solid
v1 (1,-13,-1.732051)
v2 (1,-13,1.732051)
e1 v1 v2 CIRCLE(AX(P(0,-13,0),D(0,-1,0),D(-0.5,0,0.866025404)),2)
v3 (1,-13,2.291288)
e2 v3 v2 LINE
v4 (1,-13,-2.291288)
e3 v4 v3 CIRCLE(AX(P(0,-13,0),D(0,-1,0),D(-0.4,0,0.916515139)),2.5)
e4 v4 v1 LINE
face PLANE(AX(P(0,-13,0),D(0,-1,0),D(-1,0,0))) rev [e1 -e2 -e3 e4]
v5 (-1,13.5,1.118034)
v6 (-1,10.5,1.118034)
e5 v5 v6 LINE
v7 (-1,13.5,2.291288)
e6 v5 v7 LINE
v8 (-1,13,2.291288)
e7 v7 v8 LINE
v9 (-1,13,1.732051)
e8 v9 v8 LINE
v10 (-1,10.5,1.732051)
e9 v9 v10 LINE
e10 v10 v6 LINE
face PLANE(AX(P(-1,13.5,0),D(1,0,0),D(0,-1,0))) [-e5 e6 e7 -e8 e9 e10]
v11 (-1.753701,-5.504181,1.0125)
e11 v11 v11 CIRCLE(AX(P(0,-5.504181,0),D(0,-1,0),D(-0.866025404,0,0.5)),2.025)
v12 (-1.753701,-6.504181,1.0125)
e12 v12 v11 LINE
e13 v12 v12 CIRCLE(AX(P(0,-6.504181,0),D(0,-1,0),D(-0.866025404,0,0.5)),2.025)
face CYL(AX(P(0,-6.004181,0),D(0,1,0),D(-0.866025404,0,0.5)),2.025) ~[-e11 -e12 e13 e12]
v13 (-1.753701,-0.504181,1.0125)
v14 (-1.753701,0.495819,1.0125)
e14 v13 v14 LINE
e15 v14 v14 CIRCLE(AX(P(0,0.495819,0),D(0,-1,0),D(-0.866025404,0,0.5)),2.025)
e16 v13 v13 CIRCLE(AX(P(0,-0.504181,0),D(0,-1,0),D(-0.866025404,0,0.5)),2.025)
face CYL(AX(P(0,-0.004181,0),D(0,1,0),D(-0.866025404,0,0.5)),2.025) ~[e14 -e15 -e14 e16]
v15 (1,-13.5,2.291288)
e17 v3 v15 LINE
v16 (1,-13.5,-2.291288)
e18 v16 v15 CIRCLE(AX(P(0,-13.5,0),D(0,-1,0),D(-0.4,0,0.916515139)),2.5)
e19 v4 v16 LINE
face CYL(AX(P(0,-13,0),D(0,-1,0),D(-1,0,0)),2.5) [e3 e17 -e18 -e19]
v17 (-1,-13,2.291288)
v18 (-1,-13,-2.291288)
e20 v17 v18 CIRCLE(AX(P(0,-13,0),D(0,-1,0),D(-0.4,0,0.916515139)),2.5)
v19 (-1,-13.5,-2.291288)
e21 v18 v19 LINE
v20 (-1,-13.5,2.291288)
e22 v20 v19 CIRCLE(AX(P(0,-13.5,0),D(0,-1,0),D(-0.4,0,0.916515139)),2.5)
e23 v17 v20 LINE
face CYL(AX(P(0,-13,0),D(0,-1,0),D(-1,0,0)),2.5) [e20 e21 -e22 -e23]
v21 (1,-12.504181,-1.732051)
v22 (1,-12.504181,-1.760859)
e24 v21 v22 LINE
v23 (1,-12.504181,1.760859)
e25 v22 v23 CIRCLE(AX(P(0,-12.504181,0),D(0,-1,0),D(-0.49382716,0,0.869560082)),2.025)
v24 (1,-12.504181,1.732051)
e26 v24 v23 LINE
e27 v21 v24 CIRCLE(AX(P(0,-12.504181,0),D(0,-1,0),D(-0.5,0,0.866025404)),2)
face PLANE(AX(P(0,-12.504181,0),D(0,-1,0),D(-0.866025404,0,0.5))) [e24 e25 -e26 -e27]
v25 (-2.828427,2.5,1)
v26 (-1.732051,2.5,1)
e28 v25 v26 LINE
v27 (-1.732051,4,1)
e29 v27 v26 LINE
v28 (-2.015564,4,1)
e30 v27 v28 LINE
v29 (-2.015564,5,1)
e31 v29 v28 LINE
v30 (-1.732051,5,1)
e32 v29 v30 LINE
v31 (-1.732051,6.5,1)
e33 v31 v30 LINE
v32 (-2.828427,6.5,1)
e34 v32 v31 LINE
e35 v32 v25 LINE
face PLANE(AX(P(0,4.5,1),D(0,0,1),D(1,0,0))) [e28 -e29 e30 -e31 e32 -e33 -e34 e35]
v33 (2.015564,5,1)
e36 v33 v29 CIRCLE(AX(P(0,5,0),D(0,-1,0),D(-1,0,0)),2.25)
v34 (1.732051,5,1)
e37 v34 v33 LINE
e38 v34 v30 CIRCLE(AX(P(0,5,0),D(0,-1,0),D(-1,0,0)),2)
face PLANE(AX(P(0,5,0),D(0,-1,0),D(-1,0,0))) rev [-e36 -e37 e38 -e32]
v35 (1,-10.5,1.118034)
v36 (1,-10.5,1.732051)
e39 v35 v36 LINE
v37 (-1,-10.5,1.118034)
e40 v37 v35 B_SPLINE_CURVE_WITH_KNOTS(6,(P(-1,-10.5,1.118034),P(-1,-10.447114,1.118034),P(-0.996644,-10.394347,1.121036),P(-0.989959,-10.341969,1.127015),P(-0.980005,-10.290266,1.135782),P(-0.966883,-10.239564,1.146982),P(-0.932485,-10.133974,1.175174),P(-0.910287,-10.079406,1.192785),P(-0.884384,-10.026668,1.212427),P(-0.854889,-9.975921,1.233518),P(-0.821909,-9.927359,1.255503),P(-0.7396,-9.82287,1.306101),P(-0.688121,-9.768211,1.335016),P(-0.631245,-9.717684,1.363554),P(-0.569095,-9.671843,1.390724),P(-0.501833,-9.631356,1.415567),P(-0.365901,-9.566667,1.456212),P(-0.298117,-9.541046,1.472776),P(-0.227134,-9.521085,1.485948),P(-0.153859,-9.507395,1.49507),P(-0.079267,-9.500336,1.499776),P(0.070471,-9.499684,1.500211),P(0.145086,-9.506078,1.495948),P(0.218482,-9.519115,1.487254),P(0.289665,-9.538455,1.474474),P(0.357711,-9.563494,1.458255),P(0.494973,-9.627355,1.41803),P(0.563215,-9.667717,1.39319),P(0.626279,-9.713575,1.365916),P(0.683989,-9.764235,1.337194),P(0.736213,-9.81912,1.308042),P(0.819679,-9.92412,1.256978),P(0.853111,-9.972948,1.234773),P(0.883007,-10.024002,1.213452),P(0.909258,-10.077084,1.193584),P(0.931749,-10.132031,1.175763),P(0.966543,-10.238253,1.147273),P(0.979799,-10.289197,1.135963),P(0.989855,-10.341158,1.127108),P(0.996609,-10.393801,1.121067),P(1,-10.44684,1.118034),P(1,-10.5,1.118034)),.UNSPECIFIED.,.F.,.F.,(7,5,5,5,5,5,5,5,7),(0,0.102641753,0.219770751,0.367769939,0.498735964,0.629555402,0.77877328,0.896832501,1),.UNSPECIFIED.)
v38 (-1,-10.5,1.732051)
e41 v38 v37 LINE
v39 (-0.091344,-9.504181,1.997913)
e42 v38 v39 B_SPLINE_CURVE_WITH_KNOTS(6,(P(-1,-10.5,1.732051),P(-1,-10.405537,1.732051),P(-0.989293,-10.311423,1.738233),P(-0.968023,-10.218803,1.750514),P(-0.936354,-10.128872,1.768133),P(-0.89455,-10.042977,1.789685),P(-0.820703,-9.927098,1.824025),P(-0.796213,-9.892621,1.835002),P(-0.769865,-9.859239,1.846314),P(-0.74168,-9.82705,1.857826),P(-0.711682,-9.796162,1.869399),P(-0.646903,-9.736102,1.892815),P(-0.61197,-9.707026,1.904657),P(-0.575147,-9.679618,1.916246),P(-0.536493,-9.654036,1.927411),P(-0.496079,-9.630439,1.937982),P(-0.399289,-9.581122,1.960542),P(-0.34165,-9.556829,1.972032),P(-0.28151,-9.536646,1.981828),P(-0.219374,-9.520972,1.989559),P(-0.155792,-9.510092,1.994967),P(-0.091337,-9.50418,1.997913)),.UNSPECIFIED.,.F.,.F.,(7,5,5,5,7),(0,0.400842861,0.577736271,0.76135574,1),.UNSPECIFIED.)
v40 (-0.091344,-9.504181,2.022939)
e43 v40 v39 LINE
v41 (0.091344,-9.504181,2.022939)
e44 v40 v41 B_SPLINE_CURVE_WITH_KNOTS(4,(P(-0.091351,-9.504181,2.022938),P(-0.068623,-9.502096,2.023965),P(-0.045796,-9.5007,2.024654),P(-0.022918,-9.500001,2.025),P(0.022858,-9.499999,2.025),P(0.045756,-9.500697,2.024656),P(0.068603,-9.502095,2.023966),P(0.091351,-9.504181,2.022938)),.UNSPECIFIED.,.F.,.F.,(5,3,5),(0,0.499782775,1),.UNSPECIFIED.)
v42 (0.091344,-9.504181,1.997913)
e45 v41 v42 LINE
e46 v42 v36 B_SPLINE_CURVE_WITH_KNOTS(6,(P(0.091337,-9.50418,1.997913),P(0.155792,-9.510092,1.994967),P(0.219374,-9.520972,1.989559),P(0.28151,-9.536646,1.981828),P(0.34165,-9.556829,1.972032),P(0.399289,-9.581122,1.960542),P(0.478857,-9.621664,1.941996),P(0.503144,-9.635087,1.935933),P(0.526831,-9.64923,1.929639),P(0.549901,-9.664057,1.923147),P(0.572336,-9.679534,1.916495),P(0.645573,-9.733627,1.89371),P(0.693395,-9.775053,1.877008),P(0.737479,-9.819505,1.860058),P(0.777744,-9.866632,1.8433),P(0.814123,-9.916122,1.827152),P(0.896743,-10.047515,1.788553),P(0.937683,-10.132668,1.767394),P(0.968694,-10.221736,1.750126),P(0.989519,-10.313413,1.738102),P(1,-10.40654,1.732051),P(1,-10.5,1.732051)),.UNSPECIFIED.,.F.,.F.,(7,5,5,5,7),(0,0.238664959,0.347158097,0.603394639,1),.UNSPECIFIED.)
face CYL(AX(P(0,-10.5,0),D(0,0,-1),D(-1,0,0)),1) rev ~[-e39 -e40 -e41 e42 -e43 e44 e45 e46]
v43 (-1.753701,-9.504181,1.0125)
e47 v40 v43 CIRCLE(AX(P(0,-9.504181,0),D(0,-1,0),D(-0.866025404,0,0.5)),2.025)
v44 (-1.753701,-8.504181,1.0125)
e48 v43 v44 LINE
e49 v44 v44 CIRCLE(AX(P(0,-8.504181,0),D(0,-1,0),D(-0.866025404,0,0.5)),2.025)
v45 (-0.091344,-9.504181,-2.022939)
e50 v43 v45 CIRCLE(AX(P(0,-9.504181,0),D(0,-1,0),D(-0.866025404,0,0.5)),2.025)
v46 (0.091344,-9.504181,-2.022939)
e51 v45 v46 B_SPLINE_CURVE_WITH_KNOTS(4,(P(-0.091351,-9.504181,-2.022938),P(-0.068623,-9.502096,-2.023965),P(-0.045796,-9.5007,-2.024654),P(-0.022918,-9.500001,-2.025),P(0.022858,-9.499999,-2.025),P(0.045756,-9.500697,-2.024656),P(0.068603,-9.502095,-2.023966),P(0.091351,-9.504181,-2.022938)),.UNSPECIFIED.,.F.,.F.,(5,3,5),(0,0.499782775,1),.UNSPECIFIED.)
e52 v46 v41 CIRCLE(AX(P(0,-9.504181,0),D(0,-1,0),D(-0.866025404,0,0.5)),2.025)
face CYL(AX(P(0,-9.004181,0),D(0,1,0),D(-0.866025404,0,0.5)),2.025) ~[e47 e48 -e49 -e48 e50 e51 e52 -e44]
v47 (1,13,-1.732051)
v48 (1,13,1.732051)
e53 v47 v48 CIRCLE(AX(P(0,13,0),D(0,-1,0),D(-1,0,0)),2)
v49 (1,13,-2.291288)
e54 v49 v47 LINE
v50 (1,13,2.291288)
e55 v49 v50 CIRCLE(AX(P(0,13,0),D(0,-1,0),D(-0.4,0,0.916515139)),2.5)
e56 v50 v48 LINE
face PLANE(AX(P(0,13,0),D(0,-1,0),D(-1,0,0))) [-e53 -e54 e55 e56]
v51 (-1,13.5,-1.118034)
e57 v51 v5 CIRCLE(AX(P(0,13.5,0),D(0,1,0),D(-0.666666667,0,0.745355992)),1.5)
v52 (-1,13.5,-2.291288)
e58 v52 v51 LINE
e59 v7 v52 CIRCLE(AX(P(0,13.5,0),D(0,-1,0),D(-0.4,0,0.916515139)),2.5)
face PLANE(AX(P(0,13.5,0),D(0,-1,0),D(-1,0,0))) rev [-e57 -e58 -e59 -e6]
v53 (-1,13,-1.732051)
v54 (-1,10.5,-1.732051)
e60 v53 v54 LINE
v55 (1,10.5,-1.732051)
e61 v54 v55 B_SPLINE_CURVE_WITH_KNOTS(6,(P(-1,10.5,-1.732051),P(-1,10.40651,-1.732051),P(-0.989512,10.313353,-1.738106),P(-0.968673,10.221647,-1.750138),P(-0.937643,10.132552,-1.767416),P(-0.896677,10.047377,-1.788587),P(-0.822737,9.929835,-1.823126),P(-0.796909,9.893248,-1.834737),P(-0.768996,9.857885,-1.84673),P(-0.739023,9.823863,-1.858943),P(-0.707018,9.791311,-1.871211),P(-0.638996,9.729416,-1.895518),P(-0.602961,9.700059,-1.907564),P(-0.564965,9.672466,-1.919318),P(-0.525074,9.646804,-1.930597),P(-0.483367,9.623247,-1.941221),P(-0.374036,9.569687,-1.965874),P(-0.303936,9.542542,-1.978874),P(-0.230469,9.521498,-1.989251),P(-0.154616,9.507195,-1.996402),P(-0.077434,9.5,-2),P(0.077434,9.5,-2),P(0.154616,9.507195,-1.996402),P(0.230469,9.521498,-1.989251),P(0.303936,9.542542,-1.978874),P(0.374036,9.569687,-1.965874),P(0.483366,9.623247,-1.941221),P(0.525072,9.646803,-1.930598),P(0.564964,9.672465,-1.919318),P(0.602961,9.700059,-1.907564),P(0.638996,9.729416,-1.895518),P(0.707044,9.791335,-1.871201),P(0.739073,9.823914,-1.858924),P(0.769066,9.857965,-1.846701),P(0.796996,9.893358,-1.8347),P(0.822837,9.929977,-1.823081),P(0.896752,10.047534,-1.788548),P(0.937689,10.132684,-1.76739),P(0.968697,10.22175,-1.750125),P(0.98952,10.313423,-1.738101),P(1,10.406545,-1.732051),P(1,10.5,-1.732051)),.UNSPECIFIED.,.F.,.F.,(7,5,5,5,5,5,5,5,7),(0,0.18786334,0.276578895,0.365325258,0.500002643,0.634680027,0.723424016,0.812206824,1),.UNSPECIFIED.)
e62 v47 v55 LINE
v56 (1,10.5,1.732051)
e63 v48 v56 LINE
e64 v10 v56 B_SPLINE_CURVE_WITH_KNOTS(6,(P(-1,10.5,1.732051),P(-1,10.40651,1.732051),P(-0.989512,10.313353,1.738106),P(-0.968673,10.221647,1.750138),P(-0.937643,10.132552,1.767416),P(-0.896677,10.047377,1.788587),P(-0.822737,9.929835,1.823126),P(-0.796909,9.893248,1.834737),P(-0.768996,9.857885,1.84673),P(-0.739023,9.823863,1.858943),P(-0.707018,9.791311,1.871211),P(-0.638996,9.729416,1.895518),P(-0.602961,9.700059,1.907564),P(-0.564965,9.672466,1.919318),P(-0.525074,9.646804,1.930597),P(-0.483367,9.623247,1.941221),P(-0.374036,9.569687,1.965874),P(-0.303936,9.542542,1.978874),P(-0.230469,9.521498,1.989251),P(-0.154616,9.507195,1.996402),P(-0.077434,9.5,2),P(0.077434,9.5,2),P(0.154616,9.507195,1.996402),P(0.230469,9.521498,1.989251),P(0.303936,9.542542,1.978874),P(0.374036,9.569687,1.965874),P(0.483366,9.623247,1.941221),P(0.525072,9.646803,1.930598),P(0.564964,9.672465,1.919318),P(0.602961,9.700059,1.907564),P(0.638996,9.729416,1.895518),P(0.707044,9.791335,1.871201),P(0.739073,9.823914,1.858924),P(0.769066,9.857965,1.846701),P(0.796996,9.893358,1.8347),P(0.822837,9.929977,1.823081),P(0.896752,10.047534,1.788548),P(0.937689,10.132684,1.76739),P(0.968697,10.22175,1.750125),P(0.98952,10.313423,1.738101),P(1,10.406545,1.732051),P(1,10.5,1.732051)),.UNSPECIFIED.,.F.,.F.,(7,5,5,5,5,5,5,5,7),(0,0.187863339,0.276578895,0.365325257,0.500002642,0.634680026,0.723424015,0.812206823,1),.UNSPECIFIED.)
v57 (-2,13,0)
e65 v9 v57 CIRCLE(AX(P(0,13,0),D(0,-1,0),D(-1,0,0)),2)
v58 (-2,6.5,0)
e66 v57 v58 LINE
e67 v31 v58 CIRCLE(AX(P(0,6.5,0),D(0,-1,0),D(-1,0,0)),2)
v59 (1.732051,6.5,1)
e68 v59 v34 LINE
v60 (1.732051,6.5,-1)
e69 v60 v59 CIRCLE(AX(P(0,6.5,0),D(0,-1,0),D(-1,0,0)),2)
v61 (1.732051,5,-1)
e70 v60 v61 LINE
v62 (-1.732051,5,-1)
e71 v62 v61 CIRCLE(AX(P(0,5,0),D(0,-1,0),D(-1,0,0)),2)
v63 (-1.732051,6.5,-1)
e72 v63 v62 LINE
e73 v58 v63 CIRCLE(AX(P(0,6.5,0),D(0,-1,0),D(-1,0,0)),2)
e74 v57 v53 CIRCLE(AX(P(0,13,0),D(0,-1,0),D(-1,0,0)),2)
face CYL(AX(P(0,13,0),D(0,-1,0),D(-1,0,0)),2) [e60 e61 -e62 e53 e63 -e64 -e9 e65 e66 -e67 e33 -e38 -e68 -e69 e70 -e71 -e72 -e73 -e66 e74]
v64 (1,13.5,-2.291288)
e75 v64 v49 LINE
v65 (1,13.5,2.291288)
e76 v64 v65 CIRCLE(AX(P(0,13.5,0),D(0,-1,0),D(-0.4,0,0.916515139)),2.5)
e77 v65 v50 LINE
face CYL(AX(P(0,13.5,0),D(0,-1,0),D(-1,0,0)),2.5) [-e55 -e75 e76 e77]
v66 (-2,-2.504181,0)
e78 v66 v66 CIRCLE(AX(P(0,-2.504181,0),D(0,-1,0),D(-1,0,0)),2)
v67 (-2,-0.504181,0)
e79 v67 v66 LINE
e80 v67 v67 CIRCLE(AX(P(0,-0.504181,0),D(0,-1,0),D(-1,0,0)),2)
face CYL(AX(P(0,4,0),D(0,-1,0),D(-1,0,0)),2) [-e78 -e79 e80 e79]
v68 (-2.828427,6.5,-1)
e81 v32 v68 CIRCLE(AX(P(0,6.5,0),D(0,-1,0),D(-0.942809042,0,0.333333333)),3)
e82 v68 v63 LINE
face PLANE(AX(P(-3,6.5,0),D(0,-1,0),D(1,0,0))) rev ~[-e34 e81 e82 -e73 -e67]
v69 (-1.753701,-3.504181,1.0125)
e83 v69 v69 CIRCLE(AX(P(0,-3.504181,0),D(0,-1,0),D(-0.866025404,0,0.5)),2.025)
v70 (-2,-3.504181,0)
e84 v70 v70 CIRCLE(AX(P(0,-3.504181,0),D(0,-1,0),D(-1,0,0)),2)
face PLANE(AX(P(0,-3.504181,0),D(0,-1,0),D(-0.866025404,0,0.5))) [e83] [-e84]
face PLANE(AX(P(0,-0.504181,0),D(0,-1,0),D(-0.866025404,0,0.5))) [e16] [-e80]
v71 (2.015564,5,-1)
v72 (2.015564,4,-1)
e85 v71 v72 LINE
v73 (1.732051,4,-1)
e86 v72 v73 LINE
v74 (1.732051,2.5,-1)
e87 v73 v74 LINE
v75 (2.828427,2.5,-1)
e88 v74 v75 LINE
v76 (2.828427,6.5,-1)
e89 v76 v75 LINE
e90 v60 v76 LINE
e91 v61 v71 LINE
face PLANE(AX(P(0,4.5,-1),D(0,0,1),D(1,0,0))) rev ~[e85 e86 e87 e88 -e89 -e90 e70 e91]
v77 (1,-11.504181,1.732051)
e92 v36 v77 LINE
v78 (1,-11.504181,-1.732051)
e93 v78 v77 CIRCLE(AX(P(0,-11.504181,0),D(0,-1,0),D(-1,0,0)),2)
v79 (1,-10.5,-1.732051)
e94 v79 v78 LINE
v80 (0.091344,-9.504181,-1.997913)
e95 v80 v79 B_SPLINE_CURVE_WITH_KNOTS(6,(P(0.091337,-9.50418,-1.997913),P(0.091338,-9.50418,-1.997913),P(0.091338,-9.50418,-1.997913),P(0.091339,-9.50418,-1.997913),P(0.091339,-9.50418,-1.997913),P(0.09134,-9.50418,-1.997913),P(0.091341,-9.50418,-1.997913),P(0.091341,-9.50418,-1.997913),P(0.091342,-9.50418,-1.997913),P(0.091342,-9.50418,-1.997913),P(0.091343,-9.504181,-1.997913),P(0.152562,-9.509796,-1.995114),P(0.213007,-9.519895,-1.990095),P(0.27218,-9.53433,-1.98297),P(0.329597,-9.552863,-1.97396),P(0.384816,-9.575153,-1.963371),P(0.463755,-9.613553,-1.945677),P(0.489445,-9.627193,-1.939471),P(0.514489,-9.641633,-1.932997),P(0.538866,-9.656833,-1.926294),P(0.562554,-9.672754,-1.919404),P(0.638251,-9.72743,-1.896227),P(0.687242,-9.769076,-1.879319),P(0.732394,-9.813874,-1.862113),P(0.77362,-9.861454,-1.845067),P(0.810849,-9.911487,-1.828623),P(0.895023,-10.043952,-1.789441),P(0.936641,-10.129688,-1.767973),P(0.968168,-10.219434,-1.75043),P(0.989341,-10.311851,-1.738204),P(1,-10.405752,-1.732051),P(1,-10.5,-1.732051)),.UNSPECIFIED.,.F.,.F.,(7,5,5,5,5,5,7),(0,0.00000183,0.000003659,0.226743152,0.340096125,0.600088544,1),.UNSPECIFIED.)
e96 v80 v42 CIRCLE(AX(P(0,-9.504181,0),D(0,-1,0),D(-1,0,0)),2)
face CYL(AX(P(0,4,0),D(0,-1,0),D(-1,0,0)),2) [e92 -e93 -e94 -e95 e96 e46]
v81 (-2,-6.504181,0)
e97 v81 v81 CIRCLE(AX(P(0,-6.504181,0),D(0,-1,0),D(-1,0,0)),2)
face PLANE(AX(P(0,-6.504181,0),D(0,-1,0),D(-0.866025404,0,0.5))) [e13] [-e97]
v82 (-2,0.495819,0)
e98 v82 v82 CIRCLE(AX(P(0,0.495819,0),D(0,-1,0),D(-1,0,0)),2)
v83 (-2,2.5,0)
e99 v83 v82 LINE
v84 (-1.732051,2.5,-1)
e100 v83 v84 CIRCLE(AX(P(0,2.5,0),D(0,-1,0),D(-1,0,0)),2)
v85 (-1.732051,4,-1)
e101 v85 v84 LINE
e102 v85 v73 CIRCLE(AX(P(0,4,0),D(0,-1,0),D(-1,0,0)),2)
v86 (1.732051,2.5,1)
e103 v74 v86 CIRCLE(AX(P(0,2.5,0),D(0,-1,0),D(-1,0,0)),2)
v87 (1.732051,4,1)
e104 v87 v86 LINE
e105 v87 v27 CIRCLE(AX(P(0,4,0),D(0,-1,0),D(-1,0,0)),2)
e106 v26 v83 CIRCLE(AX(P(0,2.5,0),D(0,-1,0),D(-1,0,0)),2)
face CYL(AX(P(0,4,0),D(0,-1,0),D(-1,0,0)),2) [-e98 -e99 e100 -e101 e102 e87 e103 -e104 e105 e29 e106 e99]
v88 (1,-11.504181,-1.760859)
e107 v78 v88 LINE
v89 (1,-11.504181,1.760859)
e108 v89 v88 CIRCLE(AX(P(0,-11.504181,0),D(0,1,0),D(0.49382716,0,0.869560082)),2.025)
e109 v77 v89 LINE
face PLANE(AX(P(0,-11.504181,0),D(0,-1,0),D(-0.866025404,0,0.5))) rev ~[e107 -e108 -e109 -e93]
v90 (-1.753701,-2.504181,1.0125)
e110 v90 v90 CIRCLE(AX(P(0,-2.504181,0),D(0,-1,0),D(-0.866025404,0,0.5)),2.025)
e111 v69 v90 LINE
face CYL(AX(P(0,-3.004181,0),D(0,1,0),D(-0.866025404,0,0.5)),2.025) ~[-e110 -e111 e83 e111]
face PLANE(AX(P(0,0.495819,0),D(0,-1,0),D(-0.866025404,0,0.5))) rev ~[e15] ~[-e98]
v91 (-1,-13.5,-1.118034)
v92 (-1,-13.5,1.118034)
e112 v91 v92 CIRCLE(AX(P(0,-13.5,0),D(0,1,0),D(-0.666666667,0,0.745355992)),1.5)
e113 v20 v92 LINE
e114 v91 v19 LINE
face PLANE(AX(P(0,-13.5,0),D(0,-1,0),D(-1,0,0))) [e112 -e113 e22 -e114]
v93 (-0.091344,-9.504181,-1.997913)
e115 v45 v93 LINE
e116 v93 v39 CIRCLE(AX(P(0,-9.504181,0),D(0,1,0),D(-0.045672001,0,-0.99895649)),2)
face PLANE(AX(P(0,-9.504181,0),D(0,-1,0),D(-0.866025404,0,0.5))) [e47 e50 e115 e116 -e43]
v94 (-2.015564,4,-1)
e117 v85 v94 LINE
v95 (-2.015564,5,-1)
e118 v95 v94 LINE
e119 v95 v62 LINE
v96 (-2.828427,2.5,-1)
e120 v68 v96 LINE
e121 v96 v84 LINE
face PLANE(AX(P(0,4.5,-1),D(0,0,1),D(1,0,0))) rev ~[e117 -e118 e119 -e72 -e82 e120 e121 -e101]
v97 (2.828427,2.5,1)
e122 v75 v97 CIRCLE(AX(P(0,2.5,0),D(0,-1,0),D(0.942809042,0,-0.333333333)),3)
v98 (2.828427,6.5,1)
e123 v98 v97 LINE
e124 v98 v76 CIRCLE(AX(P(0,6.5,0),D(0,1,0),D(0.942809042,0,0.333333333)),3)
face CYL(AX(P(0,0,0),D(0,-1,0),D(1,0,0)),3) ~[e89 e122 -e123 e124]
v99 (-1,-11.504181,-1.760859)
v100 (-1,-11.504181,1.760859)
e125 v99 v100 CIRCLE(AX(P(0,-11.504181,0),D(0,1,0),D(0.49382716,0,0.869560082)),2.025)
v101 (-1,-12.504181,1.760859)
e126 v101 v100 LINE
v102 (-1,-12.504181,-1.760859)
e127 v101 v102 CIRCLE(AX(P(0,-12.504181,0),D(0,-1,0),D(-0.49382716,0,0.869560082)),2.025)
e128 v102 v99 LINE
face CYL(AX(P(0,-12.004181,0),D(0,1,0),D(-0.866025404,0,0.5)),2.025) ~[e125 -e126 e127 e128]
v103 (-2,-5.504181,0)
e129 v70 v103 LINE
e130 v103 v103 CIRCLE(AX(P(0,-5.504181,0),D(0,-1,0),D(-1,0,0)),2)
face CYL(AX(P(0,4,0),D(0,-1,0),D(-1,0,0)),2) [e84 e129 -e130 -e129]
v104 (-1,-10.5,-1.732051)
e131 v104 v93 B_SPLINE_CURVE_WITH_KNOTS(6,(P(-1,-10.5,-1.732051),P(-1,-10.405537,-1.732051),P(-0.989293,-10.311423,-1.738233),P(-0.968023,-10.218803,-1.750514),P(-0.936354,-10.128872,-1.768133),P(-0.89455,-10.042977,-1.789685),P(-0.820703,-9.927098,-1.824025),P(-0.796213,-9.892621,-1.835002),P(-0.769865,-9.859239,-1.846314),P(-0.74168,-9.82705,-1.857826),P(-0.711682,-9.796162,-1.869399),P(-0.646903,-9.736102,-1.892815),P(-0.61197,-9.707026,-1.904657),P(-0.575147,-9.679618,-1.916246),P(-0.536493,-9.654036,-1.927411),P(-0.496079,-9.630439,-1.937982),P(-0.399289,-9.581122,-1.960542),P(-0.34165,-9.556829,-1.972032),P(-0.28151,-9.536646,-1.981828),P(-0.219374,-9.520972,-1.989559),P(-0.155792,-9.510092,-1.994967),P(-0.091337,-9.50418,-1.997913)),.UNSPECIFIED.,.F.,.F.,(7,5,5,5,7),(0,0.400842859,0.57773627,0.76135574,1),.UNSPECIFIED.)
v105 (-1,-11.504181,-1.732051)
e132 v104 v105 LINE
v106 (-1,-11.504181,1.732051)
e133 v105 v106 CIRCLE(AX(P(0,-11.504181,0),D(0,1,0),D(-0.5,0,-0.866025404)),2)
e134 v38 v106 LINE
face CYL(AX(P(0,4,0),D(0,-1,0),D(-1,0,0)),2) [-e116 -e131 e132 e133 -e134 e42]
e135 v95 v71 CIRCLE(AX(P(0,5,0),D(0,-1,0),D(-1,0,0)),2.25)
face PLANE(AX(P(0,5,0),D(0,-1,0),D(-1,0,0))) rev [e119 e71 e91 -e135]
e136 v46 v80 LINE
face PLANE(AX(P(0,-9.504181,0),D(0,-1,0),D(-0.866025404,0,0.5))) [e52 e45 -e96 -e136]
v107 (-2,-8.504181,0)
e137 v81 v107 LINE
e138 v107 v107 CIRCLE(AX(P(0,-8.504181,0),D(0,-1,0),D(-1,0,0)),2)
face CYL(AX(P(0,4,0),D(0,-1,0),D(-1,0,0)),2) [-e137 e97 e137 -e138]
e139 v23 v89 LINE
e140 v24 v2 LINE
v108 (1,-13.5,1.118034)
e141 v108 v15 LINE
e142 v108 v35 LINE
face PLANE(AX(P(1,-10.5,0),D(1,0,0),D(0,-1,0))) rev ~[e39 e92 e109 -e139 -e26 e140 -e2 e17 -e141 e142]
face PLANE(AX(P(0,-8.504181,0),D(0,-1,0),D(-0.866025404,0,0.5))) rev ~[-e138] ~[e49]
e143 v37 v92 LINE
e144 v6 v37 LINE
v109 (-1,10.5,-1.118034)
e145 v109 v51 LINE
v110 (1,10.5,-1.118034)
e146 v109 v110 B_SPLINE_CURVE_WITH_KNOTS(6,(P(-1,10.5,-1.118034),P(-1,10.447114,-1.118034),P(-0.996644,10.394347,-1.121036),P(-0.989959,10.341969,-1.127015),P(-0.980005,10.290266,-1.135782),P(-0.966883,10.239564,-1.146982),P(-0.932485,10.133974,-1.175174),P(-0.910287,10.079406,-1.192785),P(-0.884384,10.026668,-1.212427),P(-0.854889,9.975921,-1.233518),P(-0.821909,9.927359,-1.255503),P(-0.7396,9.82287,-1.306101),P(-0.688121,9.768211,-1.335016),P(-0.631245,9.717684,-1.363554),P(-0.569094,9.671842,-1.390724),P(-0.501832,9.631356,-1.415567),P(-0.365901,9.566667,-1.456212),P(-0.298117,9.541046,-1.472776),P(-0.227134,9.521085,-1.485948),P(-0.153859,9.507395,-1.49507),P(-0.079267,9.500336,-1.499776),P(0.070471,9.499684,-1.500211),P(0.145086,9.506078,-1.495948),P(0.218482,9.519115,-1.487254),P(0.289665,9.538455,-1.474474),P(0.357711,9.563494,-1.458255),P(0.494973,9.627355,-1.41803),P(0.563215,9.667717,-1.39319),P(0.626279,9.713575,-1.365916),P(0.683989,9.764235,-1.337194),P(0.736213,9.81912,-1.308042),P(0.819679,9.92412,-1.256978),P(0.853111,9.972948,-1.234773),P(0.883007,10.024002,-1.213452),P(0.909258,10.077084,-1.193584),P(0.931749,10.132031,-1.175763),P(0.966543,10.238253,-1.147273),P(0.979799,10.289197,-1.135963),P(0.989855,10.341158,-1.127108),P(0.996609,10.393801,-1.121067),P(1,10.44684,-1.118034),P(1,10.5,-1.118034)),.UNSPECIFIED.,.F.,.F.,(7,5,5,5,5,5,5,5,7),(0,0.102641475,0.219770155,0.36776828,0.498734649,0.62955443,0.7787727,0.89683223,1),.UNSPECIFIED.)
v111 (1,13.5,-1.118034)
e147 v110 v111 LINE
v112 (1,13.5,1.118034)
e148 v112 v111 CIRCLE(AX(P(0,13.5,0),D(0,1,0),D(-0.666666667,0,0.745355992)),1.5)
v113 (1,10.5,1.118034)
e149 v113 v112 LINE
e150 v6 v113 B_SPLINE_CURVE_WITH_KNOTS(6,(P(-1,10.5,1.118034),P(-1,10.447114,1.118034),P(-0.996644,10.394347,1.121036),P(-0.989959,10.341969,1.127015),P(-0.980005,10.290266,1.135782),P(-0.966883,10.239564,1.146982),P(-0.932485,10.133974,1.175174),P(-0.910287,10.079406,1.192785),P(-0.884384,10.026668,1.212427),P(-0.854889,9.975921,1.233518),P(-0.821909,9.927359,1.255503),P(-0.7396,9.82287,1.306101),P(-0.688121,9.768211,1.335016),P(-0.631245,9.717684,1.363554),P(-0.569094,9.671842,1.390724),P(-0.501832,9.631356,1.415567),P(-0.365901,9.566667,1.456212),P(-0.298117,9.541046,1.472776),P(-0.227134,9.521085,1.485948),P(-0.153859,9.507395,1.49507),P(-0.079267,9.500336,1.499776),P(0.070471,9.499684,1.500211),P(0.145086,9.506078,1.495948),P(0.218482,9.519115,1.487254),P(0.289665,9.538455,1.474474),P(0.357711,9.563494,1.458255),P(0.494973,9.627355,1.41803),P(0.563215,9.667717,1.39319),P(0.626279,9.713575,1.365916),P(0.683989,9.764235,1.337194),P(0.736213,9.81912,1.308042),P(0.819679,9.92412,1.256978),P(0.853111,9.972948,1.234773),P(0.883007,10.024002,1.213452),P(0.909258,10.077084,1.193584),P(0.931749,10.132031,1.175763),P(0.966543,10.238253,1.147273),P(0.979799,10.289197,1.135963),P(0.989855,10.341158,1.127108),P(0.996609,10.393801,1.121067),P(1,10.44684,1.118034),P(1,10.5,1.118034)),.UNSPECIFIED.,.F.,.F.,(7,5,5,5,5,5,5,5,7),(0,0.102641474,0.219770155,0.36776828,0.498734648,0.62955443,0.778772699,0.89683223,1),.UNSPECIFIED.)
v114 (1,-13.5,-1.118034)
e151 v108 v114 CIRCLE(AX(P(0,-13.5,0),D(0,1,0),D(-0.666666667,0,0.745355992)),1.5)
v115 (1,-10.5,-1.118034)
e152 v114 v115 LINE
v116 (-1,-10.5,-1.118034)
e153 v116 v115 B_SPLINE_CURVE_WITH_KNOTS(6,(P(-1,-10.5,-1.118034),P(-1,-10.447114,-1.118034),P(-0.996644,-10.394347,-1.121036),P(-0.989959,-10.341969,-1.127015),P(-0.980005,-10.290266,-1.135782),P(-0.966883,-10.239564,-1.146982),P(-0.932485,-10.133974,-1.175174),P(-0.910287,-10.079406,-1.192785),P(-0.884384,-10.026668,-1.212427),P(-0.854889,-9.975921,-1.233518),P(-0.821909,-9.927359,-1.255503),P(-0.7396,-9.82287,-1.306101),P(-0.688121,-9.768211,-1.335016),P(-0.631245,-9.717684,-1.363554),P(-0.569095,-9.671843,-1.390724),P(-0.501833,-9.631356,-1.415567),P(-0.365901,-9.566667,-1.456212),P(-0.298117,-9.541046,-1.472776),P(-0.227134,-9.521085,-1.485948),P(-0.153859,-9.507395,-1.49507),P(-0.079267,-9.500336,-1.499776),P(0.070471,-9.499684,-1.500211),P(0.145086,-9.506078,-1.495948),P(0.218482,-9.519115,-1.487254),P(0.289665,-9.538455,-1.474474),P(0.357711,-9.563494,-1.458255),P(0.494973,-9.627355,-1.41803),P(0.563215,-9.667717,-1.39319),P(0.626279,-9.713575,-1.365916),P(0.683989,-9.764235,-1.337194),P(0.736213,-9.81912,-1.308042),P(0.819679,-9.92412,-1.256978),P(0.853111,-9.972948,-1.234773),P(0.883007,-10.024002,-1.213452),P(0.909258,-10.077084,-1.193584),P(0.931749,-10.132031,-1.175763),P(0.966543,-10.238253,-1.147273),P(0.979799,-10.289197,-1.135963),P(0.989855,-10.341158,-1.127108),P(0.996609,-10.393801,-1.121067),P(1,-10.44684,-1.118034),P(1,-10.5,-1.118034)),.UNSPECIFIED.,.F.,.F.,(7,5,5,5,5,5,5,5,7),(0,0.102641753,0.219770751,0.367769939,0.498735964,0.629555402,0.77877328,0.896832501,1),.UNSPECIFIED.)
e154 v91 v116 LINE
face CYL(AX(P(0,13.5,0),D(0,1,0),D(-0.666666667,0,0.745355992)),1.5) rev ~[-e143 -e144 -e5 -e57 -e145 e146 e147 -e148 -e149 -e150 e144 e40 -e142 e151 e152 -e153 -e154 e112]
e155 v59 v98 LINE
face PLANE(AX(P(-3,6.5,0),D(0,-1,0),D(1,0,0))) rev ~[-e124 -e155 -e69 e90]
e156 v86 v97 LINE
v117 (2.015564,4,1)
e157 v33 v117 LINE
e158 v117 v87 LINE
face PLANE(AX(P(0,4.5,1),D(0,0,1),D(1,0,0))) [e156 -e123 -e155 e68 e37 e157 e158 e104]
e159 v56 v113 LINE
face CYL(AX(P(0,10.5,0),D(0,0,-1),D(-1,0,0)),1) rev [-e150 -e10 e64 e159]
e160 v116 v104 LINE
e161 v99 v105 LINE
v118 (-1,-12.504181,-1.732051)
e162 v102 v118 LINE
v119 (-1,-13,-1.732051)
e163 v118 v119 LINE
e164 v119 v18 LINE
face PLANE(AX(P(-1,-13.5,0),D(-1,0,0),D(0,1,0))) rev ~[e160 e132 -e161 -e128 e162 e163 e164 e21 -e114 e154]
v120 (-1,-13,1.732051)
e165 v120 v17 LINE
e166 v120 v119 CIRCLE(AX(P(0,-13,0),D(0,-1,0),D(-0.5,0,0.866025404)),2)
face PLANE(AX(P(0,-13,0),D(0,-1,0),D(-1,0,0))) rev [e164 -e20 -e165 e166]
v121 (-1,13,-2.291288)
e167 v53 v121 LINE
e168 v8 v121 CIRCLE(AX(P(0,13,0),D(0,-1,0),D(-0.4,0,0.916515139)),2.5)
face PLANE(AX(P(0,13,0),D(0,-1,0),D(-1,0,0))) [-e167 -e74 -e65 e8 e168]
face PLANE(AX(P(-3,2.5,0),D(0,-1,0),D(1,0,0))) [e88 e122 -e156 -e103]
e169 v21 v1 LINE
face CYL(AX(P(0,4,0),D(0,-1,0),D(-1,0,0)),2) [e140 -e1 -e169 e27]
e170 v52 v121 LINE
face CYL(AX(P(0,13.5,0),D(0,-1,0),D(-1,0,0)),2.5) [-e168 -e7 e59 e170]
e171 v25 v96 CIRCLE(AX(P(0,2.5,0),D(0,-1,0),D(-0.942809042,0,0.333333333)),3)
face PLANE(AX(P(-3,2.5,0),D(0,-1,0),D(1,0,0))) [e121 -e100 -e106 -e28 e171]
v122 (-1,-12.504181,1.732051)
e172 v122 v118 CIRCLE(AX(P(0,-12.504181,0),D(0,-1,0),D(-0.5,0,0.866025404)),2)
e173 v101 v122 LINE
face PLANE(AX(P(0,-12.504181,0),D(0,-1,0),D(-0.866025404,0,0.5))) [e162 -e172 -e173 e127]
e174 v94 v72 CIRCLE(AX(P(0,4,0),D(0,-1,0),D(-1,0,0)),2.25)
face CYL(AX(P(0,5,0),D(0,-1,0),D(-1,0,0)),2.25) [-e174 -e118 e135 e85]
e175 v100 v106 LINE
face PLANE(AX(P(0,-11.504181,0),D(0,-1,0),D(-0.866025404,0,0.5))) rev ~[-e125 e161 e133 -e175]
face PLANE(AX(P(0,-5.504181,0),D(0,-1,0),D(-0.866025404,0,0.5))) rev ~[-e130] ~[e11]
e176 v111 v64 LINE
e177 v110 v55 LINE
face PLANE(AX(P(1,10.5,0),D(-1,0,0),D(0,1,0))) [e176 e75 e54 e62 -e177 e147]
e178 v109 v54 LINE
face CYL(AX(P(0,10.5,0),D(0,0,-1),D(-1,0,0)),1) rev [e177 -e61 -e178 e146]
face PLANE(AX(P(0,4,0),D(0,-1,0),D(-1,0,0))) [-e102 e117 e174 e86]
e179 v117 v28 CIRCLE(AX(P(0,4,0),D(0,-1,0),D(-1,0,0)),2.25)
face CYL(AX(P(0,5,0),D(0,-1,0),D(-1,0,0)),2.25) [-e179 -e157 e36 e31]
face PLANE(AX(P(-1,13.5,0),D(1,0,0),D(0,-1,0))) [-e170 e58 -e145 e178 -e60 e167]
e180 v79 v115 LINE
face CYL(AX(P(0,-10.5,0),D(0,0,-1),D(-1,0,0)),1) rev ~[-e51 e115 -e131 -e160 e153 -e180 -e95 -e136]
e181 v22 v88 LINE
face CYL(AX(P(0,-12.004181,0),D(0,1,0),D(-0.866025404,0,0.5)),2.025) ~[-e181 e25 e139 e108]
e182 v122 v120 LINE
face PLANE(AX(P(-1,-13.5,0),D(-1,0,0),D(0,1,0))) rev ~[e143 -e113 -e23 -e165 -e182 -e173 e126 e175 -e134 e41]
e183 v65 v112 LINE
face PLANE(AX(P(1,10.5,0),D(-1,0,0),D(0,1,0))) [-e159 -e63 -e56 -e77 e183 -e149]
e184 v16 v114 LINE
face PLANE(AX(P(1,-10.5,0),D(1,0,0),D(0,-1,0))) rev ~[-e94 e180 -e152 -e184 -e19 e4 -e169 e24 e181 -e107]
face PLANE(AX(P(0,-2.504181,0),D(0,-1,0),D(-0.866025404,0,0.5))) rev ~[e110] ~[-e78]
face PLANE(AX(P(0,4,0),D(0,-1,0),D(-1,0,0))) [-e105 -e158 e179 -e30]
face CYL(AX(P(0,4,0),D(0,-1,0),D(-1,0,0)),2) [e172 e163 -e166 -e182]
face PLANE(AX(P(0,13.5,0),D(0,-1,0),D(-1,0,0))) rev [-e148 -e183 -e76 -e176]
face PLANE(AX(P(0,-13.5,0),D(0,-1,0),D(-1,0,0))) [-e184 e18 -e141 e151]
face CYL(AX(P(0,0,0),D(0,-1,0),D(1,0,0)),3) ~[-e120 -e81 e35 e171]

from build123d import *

# Parameters (mm, degrees)
SKETCH3_W               = 6
SKETCH3_H               = 4
BOSS_EXTRUDE4_DEPTH     = 1
SKETCH7_W               = 2.025
SKETCH7_H               = 1
LPATTERN1_COUNT         = 5
LPATTERN1_PITCH         = 3
CUT_EXTRUDE2_DEPTH      = 15.053469323
CUT_EXTRUDE2_DEPTH_BACK = 15.053469323
CUT_EXTRUDE3_REACH      = 29.263
SKETCH6_R               = 1.5
SKETCH8_OUTSIDE_W       = 13.608
SKETCH8_OUTSIDE_H       = 12.19
SKETCH8_OUTSIDE_R       = 3
CUT_EXTRUDE4_DEPTH      = 15.017845865
CUT_EXTRUDE4_DEPTH_BACK = 15.017845865


with BuildPart() as part:
    # Sketch1 → Revolve5 (revolve)
    with BuildSketch(Plane.XY):
        Polygon((0, 13.5), (-2.5, 13.5), (-2.5, 13), (-2, 13), (-2, 5), (-2.25, 5), (-2.25, 4), (-2, 4), (-2, -13), (-2.5, -13), (-2.5, -13.5), (0, -13.5), align=None)
    revolve(axis=Axis((0, 13.5, 0), (0, -1, 0)))

    # Sketch3 → Boss-Extrude4 (add, symmetric)
    with BuildSketch(Plane.XY):
        with Locations((0, 4.5)):
            Rectangle(SKETCH3_W, SKETCH3_H)
    extrude(amount=BOSS_EXTRUDE4_DEPTH, both=True)

    # Sketch7 → Revolve7 (revolve)
    with BuildSketch(Plane.XY, mode=Mode.PRIVATE) as revolve7_sk:
        with Locations((-1.0125, -0.004180602)):
            Rectangle(SKETCH7_W, SKETCH7_H)
    revolve7 = revolve(revolve7_sk.sketch.rotate(Axis((0, 5, 0), (0, -1, 0)), 330), axis=Axis((0, 5, 0), (0, -1, 0)))

    # LPattern1: Revolve7 ×5
    with Locations(*[(0, -i * LPATTERN1_PITCH, 0) for i in range(1, LPATTERN1_COUNT)]):
        add(revolve7)

    # Sketch5 → Cut-Extrude2 (cut, two sides)
    with BuildSketch(Plane.XY) as cut_extrude2_sk:
        with BuildLine():
            Line((-1, 13.5), (-1, 10.5))
            ThreePointArc((-1, 10.5), (0, 9.5), (1, 10.5))
            Line((1, 10.5), (1, 13.5))
            Line((1, 13.5), (-1, 13.5))
        make_face()
        with BuildLine():
            Line((-1, -13.5), (-1, -10.5))
            ThreePointArc((-1, -10.5), (0, -9.5), (1, -10.5))
            Line((1, -10.5), (1, -13.5))
            Line((1, -13.5), (-1, -13.5))
        make_face()
    extrude(amount=CUT_EXTRUDE2_DEPTH, mode=Mode.SUBTRACT)
    extrude(cut_extrude2_sk.sketch, amount=-CUT_EXTRUDE2_DEPTH_BACK, mode=Mode.SUBTRACT)

    # Cut-Extrude3: up to this face of the body (flat: up to its plane)
    cut_extrude3_end = Plane(part.part.faces().sort_by_distance((-1.618726141, -13.5, 0))[0])
    # Sketch6 → Cut-Extrude3 (cut, up to the picked face)
    with BuildSketch(Plane(origin=(0, 13.5, 0), x_dir=(1, 0, 0), z_dir=(0, 1, 0)), mode=Mode.PRIVATE) as cut_extrude3_sk1:
        with Locations(Location((0, 0, 0), (0, 0, 228.189685104))):
            Circle(SKETCH6_R)
    cut_extrude3_tool1 = split(extrude(cut_extrude3_sk1.sketch, amount=-CUT_EXTRUDE3_REACH, mode=Mode.PRIVATE), bisect_by=cut_extrude3_end, keep=Keep.BOTH, mode=Mode.PRIVATE)
    add(cut_extrude3_tool1.solids().sort_by(Axis((0, 13.5, 0), (0, -1, 0)))[0], mode=Mode.SUBTRACT)

    # Sketch8 outside → Cut-Extrude4 (cut, two sides)
    with BuildSketch(Plane(origin=(0, 0, 0), x_dir=(1, 0, 0), z_dir=(0, 1, 0))) as cut_extrude4_sk:
        Rectangle(SKETCH8_OUTSIDE_W, SKETCH8_OUTSIDE_H)
        Circle(SKETCH8_OUTSIDE_R, mode=Mode.SUBTRACT)
    extrude(amount=CUT_EXTRUDE4_DEPTH, mode=Mode.SUBTRACT)
    extrude(cut_extrude4_sk.sketch, amount=-CUT_EXTRUDE4_DEPTH_BACK, mode=Mode.SUBTRACT)


solid = part.part
